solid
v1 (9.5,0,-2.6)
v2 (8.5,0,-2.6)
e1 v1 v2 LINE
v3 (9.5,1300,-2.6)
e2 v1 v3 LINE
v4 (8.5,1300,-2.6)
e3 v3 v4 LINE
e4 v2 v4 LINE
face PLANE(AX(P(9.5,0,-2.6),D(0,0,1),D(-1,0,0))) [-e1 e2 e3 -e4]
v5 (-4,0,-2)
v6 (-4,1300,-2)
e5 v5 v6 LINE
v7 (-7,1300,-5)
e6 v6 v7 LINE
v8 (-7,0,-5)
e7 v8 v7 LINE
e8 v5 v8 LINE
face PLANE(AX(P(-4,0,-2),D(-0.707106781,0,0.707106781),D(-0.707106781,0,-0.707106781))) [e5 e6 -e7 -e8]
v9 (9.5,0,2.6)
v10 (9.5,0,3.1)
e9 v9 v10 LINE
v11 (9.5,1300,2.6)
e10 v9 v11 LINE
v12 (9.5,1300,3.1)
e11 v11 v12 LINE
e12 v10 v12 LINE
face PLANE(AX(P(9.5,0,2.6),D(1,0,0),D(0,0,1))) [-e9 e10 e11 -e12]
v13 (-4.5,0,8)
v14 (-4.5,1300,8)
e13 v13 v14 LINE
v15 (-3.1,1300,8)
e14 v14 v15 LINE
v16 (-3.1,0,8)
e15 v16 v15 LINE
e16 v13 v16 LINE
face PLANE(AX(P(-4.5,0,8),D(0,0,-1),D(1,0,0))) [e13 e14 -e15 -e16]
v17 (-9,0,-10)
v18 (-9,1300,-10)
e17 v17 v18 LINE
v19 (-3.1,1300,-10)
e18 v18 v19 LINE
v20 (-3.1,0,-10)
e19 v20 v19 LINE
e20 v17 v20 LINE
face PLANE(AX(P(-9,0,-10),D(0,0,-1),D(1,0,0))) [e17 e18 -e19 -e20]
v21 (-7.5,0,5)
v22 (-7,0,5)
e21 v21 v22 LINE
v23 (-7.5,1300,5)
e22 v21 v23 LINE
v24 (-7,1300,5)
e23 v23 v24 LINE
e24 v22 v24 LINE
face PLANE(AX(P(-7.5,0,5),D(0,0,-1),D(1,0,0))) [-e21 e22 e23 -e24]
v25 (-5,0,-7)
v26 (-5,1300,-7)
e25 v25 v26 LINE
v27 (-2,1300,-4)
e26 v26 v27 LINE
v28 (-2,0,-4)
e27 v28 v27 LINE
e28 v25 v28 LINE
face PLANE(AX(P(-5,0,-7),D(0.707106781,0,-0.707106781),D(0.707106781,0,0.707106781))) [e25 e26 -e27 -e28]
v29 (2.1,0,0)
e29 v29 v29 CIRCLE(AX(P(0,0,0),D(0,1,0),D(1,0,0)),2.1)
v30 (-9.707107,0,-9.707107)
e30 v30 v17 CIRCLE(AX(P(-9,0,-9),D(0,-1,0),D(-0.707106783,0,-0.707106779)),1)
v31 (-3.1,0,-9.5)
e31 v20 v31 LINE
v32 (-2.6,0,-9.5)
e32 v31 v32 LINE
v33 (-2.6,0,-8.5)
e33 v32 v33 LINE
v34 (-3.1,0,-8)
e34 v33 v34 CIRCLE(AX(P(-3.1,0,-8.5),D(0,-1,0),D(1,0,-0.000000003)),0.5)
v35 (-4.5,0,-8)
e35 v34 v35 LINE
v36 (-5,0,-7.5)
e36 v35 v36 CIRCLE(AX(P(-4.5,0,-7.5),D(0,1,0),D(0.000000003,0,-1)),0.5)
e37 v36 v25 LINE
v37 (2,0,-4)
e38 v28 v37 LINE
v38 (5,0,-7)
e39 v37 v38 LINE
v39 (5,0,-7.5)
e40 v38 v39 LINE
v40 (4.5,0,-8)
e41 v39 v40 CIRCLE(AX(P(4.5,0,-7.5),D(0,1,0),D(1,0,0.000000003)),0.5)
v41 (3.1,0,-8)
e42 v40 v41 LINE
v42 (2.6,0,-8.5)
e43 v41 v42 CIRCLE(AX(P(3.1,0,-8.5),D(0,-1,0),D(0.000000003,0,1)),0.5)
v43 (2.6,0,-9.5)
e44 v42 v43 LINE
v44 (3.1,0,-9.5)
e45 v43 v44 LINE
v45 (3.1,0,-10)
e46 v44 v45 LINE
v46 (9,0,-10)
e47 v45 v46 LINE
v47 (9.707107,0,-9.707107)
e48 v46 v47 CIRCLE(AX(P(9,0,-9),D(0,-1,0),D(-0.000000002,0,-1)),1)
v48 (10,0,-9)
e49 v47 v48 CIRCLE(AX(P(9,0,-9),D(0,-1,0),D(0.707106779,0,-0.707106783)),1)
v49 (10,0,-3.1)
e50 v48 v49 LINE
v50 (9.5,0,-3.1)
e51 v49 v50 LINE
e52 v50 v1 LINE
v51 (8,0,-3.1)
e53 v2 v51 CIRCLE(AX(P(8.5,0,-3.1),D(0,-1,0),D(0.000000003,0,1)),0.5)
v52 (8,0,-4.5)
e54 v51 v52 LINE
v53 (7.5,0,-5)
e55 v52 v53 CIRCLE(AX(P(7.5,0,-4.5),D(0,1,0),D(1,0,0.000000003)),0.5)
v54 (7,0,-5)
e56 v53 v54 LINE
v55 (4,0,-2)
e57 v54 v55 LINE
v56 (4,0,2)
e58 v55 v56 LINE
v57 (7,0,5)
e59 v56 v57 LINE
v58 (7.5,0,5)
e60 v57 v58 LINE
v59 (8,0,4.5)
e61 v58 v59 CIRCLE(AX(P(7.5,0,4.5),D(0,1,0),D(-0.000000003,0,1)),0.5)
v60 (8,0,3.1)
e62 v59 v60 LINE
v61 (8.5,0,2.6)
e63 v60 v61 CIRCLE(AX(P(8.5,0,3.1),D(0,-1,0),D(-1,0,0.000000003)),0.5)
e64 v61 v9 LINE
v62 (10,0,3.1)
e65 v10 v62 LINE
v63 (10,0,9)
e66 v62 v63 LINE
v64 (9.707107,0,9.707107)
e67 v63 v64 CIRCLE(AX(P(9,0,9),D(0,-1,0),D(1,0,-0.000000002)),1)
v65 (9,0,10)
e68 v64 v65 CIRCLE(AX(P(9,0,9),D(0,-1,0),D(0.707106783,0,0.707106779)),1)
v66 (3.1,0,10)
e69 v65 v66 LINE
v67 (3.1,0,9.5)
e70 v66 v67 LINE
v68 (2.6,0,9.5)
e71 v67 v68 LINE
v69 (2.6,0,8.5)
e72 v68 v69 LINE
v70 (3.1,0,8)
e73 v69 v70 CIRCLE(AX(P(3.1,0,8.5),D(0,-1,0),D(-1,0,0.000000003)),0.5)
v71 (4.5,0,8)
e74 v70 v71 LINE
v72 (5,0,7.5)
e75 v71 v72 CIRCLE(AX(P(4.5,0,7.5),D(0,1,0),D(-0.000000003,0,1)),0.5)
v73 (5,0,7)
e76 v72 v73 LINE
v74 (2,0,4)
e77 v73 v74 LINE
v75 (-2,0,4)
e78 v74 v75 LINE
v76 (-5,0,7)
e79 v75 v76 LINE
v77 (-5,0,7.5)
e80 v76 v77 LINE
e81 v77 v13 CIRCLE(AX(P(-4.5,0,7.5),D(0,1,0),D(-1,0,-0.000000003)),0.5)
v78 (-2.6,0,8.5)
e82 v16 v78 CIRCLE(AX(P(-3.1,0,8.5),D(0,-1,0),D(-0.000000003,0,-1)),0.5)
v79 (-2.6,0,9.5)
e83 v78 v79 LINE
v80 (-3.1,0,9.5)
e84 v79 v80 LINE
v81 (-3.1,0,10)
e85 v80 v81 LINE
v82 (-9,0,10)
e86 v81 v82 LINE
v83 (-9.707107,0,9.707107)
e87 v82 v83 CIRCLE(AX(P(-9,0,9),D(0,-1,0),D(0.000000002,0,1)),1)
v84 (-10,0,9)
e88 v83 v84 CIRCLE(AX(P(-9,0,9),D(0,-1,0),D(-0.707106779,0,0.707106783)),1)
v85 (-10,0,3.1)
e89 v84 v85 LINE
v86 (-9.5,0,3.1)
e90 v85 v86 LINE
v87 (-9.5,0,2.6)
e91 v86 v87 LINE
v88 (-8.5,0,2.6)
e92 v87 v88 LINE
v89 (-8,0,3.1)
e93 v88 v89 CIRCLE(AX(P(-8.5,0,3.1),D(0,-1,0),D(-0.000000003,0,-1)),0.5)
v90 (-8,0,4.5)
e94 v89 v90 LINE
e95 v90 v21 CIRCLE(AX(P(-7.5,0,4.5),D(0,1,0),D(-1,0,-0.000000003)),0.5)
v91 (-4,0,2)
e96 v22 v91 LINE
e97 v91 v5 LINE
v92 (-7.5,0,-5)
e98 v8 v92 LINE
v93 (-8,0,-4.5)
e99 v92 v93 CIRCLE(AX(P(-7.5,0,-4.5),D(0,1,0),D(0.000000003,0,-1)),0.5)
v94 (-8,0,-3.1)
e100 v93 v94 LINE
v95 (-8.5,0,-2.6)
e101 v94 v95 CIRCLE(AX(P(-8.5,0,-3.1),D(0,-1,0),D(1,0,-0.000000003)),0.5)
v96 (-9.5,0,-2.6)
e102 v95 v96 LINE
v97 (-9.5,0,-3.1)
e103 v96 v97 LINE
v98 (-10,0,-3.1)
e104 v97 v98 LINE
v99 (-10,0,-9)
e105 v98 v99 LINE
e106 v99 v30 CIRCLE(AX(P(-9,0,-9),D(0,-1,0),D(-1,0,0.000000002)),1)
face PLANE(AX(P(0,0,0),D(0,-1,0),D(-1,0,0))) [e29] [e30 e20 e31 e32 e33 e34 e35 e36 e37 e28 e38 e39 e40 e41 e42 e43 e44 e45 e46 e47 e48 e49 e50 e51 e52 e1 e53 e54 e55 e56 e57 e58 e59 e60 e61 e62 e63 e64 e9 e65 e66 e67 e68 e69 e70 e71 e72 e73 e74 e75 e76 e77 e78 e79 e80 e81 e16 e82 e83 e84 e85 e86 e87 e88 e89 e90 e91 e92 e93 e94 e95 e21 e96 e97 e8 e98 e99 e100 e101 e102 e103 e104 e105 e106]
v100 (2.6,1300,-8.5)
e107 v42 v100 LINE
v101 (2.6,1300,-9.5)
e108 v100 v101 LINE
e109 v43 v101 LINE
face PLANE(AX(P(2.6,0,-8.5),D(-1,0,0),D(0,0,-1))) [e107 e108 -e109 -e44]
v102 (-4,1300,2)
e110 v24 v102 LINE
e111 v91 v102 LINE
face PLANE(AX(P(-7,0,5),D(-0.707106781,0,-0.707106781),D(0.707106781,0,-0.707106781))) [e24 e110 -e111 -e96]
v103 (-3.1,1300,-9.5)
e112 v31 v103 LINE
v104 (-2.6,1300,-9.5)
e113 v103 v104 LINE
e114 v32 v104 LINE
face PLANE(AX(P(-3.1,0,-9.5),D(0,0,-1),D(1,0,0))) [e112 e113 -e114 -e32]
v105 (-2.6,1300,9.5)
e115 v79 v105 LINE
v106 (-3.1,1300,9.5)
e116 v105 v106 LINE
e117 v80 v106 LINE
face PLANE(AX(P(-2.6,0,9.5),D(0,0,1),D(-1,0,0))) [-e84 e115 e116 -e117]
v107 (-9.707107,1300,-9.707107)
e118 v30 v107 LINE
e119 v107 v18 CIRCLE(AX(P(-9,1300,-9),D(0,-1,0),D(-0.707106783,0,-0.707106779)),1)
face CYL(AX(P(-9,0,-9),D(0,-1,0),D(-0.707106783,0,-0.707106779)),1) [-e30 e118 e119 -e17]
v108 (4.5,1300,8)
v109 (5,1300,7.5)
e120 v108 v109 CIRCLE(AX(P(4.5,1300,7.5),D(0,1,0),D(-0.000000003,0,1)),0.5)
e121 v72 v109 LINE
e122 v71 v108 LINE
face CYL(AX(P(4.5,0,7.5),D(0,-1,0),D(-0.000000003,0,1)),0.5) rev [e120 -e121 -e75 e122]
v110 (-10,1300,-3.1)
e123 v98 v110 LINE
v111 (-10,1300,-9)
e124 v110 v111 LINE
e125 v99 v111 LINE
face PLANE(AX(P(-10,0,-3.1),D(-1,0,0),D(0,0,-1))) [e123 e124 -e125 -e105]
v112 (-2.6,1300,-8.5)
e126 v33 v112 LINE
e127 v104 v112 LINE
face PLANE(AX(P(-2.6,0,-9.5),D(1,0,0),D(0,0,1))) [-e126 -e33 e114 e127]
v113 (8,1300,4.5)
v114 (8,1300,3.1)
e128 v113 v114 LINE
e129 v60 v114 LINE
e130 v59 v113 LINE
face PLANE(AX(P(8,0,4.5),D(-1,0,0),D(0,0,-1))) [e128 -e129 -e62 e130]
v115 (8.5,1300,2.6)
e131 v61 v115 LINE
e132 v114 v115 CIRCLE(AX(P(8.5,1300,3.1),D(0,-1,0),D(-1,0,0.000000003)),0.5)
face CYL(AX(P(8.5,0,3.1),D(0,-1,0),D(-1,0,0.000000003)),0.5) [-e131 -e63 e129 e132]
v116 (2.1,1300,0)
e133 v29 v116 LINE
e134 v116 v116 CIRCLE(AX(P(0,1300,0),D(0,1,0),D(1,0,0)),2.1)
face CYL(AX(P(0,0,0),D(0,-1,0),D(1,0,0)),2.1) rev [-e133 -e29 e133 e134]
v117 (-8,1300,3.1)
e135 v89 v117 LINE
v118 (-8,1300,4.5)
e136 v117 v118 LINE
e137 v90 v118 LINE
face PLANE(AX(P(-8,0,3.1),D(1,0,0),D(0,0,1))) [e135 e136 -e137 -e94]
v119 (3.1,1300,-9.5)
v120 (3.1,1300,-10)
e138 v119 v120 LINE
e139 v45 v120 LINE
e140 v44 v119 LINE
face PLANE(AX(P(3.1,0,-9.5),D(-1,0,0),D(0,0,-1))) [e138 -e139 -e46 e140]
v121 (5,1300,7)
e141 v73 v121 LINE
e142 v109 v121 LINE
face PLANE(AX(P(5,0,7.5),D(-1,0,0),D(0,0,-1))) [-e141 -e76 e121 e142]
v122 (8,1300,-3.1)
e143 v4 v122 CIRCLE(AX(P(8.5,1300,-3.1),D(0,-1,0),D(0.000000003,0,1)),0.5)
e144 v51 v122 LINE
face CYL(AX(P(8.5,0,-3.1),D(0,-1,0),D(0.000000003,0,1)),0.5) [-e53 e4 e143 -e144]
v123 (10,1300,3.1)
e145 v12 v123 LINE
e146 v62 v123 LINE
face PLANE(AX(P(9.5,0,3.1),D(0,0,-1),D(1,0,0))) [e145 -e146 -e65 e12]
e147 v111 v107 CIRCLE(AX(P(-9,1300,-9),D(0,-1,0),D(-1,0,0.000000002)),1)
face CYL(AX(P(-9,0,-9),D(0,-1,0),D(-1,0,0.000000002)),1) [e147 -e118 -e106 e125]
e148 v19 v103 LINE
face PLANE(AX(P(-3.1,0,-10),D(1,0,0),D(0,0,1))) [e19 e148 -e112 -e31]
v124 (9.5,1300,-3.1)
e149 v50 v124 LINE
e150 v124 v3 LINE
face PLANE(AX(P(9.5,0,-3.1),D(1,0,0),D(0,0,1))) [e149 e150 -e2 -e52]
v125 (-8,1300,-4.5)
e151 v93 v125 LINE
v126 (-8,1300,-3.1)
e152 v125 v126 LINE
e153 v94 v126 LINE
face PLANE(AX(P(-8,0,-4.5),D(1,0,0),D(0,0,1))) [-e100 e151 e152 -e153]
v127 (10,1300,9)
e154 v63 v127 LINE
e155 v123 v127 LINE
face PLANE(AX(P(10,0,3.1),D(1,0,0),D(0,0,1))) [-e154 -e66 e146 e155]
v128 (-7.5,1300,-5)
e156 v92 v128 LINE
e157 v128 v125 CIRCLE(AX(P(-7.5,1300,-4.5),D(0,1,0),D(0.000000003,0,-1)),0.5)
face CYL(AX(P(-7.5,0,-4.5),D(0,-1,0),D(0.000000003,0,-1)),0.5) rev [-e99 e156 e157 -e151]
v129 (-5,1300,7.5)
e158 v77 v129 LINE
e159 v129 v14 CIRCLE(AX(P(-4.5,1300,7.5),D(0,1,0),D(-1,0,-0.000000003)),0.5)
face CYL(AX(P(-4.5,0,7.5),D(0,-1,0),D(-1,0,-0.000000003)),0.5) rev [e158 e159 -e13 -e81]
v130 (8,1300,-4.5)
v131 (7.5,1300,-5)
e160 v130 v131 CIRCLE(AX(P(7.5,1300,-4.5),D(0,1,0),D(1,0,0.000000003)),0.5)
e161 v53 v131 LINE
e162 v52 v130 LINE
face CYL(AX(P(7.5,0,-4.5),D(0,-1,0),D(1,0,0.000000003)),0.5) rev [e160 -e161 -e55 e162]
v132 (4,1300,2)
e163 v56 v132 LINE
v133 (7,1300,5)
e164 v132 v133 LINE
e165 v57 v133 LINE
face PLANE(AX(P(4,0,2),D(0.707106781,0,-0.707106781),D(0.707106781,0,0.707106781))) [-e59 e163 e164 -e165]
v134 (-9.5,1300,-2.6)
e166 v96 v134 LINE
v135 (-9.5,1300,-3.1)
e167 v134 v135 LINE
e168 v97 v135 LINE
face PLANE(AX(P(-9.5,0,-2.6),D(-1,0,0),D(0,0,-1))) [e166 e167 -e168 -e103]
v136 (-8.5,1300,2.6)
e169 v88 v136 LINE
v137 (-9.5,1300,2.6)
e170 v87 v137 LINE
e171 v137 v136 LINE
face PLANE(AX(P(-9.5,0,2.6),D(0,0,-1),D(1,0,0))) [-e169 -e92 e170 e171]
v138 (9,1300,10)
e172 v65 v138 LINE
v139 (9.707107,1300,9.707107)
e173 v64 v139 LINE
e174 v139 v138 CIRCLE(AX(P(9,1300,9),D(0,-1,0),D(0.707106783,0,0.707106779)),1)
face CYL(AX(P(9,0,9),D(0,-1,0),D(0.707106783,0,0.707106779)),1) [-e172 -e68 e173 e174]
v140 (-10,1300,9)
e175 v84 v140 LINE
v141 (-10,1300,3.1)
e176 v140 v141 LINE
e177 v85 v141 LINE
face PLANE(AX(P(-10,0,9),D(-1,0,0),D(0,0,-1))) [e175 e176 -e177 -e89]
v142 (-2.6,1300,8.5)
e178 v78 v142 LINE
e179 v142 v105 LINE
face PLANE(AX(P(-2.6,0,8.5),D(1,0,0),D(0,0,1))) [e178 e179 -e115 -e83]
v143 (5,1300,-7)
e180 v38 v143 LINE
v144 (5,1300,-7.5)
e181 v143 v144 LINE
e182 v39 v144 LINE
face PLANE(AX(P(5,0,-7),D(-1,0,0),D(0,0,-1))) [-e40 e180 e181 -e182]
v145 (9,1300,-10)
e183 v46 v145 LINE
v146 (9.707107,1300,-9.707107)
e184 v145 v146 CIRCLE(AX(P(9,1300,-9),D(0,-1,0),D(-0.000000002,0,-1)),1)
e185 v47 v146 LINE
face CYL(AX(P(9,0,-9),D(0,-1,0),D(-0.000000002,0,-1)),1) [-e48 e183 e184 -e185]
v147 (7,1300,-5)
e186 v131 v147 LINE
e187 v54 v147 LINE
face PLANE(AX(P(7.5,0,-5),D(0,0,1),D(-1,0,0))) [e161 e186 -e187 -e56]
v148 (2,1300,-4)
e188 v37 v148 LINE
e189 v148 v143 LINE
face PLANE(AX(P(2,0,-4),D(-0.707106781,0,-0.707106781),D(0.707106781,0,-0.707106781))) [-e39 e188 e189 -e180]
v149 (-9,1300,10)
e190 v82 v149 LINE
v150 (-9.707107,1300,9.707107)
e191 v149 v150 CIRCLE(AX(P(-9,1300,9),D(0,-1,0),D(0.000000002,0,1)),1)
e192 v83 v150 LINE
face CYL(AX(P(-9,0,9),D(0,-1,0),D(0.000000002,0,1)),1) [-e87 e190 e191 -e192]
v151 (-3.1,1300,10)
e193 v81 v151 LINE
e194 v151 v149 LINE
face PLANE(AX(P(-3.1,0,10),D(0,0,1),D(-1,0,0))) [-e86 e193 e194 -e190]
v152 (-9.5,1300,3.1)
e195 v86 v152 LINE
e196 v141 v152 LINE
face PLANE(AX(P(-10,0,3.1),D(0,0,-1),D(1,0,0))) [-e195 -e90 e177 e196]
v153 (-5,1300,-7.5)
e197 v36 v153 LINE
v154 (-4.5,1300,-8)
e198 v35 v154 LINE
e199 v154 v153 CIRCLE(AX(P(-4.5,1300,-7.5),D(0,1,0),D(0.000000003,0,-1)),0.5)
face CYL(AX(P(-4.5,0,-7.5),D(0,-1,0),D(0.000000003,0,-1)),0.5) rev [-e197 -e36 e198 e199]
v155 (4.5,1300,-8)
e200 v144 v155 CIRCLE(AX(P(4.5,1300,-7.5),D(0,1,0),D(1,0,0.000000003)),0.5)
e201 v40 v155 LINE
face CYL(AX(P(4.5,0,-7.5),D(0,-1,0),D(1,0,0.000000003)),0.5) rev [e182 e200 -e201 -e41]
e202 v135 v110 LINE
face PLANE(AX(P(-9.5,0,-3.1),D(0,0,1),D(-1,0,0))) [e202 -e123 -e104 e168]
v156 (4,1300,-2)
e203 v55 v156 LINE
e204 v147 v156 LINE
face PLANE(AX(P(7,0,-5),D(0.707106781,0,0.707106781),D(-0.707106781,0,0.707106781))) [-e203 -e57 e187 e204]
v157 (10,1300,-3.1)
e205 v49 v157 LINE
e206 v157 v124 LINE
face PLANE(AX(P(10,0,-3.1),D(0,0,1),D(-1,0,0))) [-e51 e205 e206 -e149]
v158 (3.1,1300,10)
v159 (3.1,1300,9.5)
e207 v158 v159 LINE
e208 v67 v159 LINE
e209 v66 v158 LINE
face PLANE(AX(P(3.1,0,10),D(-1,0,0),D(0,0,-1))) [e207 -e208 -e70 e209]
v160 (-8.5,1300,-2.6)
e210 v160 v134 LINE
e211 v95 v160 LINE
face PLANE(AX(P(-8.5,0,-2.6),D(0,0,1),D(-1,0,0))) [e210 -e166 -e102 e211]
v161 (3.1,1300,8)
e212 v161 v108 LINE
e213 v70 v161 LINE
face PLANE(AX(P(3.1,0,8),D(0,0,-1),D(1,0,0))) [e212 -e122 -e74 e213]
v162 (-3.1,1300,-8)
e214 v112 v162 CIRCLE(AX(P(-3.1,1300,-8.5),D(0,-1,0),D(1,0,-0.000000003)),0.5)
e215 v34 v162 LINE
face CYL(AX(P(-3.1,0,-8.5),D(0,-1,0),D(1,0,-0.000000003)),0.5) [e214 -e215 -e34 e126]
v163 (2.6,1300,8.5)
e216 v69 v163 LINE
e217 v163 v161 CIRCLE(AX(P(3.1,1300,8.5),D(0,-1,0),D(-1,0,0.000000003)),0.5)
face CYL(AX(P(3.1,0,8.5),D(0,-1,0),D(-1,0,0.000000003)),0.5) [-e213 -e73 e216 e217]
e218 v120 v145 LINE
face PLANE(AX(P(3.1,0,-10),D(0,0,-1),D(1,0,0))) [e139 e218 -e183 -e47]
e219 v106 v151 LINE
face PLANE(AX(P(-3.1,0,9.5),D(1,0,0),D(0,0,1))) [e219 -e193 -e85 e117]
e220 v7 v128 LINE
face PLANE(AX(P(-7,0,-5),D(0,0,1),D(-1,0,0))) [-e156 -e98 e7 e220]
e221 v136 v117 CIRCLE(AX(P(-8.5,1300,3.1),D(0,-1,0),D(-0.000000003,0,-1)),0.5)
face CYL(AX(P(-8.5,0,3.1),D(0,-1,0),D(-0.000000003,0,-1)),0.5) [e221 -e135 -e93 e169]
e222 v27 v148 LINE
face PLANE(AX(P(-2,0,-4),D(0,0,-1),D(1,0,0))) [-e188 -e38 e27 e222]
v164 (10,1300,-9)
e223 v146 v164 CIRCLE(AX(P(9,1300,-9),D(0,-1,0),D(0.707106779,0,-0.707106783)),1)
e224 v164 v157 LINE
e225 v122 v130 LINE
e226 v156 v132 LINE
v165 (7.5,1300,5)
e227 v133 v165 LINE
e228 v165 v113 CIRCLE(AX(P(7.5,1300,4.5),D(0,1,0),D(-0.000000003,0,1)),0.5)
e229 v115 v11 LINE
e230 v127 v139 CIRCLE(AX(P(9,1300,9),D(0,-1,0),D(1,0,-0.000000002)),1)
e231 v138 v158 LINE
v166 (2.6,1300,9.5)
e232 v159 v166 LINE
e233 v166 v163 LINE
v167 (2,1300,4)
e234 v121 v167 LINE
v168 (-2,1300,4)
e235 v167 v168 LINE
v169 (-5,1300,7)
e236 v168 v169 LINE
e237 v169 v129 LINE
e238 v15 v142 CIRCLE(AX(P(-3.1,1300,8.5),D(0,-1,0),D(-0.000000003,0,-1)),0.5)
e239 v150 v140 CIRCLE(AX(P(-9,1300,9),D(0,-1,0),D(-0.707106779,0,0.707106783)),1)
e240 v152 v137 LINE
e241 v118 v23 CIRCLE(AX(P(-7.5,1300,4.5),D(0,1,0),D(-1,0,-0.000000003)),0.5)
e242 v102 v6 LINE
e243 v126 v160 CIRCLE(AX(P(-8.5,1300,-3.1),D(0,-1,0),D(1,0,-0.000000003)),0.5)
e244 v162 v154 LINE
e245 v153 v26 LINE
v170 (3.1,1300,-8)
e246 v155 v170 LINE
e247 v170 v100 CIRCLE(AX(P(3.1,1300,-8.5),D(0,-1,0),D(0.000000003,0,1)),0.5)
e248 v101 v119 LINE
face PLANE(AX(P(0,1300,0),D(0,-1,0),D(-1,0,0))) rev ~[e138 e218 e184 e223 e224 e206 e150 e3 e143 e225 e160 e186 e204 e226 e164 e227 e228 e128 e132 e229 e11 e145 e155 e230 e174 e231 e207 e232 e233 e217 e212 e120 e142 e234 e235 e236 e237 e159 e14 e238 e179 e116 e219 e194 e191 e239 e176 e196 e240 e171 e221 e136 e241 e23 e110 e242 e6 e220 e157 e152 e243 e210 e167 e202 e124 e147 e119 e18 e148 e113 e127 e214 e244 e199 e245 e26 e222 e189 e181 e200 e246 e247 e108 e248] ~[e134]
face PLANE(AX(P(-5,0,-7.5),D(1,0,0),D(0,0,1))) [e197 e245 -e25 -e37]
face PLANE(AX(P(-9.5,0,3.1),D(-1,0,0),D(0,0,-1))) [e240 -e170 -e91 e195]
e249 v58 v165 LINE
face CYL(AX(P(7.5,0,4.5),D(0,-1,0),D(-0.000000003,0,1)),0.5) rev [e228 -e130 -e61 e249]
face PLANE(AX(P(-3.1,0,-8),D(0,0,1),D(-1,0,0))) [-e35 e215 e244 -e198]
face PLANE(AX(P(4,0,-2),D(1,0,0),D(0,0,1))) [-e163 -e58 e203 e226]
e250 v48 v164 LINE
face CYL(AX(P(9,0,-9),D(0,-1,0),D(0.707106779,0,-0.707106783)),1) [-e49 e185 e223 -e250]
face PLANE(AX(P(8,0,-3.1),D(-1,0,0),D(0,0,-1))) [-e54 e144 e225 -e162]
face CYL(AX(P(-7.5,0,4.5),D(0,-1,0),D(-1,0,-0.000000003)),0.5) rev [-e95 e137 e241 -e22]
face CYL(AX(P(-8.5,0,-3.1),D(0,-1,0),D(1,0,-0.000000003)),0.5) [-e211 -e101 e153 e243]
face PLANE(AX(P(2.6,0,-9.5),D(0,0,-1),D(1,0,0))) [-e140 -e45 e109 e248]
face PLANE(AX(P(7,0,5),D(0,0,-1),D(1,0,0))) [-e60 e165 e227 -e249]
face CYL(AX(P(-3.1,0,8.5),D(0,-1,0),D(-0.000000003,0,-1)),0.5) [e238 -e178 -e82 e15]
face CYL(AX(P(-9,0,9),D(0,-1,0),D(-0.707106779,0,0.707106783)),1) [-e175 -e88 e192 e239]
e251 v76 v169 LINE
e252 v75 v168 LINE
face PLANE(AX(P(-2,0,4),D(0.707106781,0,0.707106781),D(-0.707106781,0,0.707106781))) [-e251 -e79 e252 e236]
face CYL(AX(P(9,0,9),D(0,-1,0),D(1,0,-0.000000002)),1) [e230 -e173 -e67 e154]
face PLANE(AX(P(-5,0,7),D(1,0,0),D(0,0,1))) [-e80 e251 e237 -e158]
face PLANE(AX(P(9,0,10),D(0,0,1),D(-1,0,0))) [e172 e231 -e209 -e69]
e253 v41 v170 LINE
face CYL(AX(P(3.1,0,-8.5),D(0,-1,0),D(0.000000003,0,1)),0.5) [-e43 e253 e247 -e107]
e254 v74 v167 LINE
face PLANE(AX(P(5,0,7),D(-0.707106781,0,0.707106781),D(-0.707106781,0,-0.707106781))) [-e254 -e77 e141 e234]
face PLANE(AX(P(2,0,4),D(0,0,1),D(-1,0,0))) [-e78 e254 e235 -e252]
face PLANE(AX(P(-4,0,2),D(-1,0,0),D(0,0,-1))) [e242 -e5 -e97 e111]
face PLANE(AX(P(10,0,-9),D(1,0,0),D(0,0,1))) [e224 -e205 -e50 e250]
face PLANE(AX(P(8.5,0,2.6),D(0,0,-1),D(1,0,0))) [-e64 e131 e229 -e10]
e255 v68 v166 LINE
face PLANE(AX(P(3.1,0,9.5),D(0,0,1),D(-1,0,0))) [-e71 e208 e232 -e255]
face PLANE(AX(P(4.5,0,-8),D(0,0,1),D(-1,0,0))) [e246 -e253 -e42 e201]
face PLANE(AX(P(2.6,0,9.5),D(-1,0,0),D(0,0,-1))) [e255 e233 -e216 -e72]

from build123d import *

# Parameters (mm, degrees)
SKETCH_1_R      = 2.1
EXTRUDE_1_DEPTH = 1300


with BuildPart() as part:
    # 스케치1 → 보스-돌출1 (new body)
    with BuildSketch(Plane(origin=(0, 0, 0), x_dir=(1, 0, 0), z_dir=(0, 1, 0))):
        with BuildLine():
            Line((2, -4), (-2, -4))
            Line((-2, -4), (-5, -7))
            Line((-5, -7), (-5, -7.5))
            ThreePointArc((-5, -7.5), (-4.853553391, -7.853553391), (-4.5, -8))
            Line((-4.5, -8), (-3.1, -8))
            ThreePointArc((-3.1, -8), (-2.746446609, -8.146446609), (-2.6, -8.5))
            Line((-2.6, -8.5), (-2.6, -9.5))
            Line((-2.6, -9.5), (-3.1, -9.5))
            Line((-3.1, -9.5), (-3.1, -10))
            Line((-3.1, -10), (-9, -10))
            ThreePointArc((-9, -10), (-9.382683432, -9.923879533), (-9.707106781, -9.707106781))
            ThreePointArc((-9.707106781, -9.707106781), (-9.923879533, -9.382683432), (-10, -9))
            Line((-10, -9), (-10, -3.1))
            Line((-10, -3.1), (-9.5, -3.1))
            Line((-9.5, -3.1), (-9.5, -2.6))
            Line((-9.5, -2.6), (-8.5, -2.6))
            ThreePointArc((-8.5, -2.6), (-8.146446609, -2.746446609), (-8, -3.1))
            Line((-8, -3.1), (-8, -4.5))
            ThreePointArc((-8, -4.5), (-7.853553391, -4.853553391), (-7.5, -5))
            Line((-7.5, -5), (-7, -5))
            Line((-7, -5), (-4, -2))
            Line((-4, -2), (-4, 2))
            Line((-4, 2), (-7, 5))
            Line((-7, 5), (-7.5, 5))
            ThreePointArc((-7.5, 5), (-7.853553391, 4.853553391), (-8, 4.5))
            Line((-8, 4.5), (-8, 3.1))
            ThreePointArc((-8, 3.1), (-8.146446609, 2.746446609), (-8.5, 2.6))
            Line((-8.5, 2.6), (-9.5, 2.6))
            Line((-9.5, 2.6), (-9.5, 3.1))
            Line((-9.5, 3.1), (-10, 3.1))
            Line((-10, 3.1), (-10, 9))
            ThreePointArc((-10, 9), (-9.923879533, 9.382683432), (-9.707106781, 9.707106781))
            ThreePointArc((-9.707106781, 9.707106781), (-9.382683432, 9.923879533), (-9, 10))
            Line((-9, 10), (-3.1, 10))
            Line((-3.1, 10), (-3.1, 9.5))
            Line((-3.1, 9.5), (-2.6, 9.5))
            Line((-2.6, 9.5), (-2.6, 8.5))
            ThreePointArc((-2.6, 8.5), (-2.746446609, 8.146446609), (-3.1, 8))
            Line((-3.1, 8), (-4.5, 8))
            ThreePointArc((-4.5, 8), (-4.853553391, 7.853553391), (-5, 7.5))
            Line((-5, 7.5), (-5, 7))
            Line((-5, 7), (-2, 4))
            Line((-2, 4), (2, 4))
            Line((2, 4), (5, 7))
            Line((5, 7), (5, 7.5))
            ThreePointArc((5, 7.5), (4.853553391, 7.853553391), (4.5, 8))
            Line((4.5, 8), (3.1, 8))
            ThreePointArc((3.1, 8), (2.746446609, 8.146446609), (2.6, 8.5))
            Line((2.6, 8.5), (2.6, 9.5))
            Line((2.6, 9.5), (3.1, 9.5))
            Line((3.1, 9.5), (3.1, 10))
            Line((3.1, 10), (9, 10))
            ThreePointArc((9, 10), (9.382683432, 9.923879533), (9.707106781, 9.707106781))
            ThreePointArc((9.707106781, 9.707106781), (9.923879533, 9.382683432), (10, 9))
            Line((10, 9), (10, 3.1))
            Line((10, 3.1), (9.5, 3.1))
            Line((9.5, 3.1), (9.5, 2.6))
            Line((9.5, 2.6), (8.5, 2.6))
            ThreePointArc((8.5, 2.6), (8.146446609, 2.746446609), (8, 3.1))
            Line((8, 3.1), (8, 4.5))
            ThreePointArc((8, 4.5), (7.853553391, 4.853553391), (7.5, 5))
            Line((7.5, 5), (7, 5))
            Line((7, 5), (4, 2))
            Line((4, 2), (4, -2))
            Line((4, -2), (7, -5))
            Line((7, -5), (7.5, -5))
            ThreePointArc((7.5, -5), (7.853553391, -4.853553391), (8, -4.5))
            Line((8, -4.5), (8, -3.1))
            ThreePointArc((8, -3.1), (8.146446609, -2.746446609), (8.5, -2.6))
            Line((8.5, -2.6), (9.5, -2.6))
            Line((9.5, -2.6), (9.5, -3.1))
            Line((9.5, -3.1), (10, -3.1))
            Line((10, -3.1), (10, -9))
            ThreePointArc((10, -9), (9.923879533, -9.382683432), (9.707106781, -9.707106781))
            ThreePointArc((9.707106781, -9.707106781), (9.382683432, -9.923879533), (9, -10))
            Line((9, -10), (3.1, -10))
            Line((3.1, -10), (3.1, -9.5))
            Line((3.1, -9.5), (2.6, -9.5))
            Line((2.6, -9.5), (2.6, -8.5))
            ThreePointArc((2.6, -8.5), (2.746446609, -8.146446609), (3.1, -8))
            Line((3.1, -8), (4.5, -8))
            ThreePointArc((4.5, -8), (4.853553391, -7.853553391), (5, -7.5))
            Line((5, -7.5), (5, -7))
            Line((5, -7), (2, -4))
        make_face()
        Circle(SKETCH_1_R, mode=Mode.SUBTRACT)
    extrude(amount=EXTRUDE_1_DEPTH)


solid = part.part
